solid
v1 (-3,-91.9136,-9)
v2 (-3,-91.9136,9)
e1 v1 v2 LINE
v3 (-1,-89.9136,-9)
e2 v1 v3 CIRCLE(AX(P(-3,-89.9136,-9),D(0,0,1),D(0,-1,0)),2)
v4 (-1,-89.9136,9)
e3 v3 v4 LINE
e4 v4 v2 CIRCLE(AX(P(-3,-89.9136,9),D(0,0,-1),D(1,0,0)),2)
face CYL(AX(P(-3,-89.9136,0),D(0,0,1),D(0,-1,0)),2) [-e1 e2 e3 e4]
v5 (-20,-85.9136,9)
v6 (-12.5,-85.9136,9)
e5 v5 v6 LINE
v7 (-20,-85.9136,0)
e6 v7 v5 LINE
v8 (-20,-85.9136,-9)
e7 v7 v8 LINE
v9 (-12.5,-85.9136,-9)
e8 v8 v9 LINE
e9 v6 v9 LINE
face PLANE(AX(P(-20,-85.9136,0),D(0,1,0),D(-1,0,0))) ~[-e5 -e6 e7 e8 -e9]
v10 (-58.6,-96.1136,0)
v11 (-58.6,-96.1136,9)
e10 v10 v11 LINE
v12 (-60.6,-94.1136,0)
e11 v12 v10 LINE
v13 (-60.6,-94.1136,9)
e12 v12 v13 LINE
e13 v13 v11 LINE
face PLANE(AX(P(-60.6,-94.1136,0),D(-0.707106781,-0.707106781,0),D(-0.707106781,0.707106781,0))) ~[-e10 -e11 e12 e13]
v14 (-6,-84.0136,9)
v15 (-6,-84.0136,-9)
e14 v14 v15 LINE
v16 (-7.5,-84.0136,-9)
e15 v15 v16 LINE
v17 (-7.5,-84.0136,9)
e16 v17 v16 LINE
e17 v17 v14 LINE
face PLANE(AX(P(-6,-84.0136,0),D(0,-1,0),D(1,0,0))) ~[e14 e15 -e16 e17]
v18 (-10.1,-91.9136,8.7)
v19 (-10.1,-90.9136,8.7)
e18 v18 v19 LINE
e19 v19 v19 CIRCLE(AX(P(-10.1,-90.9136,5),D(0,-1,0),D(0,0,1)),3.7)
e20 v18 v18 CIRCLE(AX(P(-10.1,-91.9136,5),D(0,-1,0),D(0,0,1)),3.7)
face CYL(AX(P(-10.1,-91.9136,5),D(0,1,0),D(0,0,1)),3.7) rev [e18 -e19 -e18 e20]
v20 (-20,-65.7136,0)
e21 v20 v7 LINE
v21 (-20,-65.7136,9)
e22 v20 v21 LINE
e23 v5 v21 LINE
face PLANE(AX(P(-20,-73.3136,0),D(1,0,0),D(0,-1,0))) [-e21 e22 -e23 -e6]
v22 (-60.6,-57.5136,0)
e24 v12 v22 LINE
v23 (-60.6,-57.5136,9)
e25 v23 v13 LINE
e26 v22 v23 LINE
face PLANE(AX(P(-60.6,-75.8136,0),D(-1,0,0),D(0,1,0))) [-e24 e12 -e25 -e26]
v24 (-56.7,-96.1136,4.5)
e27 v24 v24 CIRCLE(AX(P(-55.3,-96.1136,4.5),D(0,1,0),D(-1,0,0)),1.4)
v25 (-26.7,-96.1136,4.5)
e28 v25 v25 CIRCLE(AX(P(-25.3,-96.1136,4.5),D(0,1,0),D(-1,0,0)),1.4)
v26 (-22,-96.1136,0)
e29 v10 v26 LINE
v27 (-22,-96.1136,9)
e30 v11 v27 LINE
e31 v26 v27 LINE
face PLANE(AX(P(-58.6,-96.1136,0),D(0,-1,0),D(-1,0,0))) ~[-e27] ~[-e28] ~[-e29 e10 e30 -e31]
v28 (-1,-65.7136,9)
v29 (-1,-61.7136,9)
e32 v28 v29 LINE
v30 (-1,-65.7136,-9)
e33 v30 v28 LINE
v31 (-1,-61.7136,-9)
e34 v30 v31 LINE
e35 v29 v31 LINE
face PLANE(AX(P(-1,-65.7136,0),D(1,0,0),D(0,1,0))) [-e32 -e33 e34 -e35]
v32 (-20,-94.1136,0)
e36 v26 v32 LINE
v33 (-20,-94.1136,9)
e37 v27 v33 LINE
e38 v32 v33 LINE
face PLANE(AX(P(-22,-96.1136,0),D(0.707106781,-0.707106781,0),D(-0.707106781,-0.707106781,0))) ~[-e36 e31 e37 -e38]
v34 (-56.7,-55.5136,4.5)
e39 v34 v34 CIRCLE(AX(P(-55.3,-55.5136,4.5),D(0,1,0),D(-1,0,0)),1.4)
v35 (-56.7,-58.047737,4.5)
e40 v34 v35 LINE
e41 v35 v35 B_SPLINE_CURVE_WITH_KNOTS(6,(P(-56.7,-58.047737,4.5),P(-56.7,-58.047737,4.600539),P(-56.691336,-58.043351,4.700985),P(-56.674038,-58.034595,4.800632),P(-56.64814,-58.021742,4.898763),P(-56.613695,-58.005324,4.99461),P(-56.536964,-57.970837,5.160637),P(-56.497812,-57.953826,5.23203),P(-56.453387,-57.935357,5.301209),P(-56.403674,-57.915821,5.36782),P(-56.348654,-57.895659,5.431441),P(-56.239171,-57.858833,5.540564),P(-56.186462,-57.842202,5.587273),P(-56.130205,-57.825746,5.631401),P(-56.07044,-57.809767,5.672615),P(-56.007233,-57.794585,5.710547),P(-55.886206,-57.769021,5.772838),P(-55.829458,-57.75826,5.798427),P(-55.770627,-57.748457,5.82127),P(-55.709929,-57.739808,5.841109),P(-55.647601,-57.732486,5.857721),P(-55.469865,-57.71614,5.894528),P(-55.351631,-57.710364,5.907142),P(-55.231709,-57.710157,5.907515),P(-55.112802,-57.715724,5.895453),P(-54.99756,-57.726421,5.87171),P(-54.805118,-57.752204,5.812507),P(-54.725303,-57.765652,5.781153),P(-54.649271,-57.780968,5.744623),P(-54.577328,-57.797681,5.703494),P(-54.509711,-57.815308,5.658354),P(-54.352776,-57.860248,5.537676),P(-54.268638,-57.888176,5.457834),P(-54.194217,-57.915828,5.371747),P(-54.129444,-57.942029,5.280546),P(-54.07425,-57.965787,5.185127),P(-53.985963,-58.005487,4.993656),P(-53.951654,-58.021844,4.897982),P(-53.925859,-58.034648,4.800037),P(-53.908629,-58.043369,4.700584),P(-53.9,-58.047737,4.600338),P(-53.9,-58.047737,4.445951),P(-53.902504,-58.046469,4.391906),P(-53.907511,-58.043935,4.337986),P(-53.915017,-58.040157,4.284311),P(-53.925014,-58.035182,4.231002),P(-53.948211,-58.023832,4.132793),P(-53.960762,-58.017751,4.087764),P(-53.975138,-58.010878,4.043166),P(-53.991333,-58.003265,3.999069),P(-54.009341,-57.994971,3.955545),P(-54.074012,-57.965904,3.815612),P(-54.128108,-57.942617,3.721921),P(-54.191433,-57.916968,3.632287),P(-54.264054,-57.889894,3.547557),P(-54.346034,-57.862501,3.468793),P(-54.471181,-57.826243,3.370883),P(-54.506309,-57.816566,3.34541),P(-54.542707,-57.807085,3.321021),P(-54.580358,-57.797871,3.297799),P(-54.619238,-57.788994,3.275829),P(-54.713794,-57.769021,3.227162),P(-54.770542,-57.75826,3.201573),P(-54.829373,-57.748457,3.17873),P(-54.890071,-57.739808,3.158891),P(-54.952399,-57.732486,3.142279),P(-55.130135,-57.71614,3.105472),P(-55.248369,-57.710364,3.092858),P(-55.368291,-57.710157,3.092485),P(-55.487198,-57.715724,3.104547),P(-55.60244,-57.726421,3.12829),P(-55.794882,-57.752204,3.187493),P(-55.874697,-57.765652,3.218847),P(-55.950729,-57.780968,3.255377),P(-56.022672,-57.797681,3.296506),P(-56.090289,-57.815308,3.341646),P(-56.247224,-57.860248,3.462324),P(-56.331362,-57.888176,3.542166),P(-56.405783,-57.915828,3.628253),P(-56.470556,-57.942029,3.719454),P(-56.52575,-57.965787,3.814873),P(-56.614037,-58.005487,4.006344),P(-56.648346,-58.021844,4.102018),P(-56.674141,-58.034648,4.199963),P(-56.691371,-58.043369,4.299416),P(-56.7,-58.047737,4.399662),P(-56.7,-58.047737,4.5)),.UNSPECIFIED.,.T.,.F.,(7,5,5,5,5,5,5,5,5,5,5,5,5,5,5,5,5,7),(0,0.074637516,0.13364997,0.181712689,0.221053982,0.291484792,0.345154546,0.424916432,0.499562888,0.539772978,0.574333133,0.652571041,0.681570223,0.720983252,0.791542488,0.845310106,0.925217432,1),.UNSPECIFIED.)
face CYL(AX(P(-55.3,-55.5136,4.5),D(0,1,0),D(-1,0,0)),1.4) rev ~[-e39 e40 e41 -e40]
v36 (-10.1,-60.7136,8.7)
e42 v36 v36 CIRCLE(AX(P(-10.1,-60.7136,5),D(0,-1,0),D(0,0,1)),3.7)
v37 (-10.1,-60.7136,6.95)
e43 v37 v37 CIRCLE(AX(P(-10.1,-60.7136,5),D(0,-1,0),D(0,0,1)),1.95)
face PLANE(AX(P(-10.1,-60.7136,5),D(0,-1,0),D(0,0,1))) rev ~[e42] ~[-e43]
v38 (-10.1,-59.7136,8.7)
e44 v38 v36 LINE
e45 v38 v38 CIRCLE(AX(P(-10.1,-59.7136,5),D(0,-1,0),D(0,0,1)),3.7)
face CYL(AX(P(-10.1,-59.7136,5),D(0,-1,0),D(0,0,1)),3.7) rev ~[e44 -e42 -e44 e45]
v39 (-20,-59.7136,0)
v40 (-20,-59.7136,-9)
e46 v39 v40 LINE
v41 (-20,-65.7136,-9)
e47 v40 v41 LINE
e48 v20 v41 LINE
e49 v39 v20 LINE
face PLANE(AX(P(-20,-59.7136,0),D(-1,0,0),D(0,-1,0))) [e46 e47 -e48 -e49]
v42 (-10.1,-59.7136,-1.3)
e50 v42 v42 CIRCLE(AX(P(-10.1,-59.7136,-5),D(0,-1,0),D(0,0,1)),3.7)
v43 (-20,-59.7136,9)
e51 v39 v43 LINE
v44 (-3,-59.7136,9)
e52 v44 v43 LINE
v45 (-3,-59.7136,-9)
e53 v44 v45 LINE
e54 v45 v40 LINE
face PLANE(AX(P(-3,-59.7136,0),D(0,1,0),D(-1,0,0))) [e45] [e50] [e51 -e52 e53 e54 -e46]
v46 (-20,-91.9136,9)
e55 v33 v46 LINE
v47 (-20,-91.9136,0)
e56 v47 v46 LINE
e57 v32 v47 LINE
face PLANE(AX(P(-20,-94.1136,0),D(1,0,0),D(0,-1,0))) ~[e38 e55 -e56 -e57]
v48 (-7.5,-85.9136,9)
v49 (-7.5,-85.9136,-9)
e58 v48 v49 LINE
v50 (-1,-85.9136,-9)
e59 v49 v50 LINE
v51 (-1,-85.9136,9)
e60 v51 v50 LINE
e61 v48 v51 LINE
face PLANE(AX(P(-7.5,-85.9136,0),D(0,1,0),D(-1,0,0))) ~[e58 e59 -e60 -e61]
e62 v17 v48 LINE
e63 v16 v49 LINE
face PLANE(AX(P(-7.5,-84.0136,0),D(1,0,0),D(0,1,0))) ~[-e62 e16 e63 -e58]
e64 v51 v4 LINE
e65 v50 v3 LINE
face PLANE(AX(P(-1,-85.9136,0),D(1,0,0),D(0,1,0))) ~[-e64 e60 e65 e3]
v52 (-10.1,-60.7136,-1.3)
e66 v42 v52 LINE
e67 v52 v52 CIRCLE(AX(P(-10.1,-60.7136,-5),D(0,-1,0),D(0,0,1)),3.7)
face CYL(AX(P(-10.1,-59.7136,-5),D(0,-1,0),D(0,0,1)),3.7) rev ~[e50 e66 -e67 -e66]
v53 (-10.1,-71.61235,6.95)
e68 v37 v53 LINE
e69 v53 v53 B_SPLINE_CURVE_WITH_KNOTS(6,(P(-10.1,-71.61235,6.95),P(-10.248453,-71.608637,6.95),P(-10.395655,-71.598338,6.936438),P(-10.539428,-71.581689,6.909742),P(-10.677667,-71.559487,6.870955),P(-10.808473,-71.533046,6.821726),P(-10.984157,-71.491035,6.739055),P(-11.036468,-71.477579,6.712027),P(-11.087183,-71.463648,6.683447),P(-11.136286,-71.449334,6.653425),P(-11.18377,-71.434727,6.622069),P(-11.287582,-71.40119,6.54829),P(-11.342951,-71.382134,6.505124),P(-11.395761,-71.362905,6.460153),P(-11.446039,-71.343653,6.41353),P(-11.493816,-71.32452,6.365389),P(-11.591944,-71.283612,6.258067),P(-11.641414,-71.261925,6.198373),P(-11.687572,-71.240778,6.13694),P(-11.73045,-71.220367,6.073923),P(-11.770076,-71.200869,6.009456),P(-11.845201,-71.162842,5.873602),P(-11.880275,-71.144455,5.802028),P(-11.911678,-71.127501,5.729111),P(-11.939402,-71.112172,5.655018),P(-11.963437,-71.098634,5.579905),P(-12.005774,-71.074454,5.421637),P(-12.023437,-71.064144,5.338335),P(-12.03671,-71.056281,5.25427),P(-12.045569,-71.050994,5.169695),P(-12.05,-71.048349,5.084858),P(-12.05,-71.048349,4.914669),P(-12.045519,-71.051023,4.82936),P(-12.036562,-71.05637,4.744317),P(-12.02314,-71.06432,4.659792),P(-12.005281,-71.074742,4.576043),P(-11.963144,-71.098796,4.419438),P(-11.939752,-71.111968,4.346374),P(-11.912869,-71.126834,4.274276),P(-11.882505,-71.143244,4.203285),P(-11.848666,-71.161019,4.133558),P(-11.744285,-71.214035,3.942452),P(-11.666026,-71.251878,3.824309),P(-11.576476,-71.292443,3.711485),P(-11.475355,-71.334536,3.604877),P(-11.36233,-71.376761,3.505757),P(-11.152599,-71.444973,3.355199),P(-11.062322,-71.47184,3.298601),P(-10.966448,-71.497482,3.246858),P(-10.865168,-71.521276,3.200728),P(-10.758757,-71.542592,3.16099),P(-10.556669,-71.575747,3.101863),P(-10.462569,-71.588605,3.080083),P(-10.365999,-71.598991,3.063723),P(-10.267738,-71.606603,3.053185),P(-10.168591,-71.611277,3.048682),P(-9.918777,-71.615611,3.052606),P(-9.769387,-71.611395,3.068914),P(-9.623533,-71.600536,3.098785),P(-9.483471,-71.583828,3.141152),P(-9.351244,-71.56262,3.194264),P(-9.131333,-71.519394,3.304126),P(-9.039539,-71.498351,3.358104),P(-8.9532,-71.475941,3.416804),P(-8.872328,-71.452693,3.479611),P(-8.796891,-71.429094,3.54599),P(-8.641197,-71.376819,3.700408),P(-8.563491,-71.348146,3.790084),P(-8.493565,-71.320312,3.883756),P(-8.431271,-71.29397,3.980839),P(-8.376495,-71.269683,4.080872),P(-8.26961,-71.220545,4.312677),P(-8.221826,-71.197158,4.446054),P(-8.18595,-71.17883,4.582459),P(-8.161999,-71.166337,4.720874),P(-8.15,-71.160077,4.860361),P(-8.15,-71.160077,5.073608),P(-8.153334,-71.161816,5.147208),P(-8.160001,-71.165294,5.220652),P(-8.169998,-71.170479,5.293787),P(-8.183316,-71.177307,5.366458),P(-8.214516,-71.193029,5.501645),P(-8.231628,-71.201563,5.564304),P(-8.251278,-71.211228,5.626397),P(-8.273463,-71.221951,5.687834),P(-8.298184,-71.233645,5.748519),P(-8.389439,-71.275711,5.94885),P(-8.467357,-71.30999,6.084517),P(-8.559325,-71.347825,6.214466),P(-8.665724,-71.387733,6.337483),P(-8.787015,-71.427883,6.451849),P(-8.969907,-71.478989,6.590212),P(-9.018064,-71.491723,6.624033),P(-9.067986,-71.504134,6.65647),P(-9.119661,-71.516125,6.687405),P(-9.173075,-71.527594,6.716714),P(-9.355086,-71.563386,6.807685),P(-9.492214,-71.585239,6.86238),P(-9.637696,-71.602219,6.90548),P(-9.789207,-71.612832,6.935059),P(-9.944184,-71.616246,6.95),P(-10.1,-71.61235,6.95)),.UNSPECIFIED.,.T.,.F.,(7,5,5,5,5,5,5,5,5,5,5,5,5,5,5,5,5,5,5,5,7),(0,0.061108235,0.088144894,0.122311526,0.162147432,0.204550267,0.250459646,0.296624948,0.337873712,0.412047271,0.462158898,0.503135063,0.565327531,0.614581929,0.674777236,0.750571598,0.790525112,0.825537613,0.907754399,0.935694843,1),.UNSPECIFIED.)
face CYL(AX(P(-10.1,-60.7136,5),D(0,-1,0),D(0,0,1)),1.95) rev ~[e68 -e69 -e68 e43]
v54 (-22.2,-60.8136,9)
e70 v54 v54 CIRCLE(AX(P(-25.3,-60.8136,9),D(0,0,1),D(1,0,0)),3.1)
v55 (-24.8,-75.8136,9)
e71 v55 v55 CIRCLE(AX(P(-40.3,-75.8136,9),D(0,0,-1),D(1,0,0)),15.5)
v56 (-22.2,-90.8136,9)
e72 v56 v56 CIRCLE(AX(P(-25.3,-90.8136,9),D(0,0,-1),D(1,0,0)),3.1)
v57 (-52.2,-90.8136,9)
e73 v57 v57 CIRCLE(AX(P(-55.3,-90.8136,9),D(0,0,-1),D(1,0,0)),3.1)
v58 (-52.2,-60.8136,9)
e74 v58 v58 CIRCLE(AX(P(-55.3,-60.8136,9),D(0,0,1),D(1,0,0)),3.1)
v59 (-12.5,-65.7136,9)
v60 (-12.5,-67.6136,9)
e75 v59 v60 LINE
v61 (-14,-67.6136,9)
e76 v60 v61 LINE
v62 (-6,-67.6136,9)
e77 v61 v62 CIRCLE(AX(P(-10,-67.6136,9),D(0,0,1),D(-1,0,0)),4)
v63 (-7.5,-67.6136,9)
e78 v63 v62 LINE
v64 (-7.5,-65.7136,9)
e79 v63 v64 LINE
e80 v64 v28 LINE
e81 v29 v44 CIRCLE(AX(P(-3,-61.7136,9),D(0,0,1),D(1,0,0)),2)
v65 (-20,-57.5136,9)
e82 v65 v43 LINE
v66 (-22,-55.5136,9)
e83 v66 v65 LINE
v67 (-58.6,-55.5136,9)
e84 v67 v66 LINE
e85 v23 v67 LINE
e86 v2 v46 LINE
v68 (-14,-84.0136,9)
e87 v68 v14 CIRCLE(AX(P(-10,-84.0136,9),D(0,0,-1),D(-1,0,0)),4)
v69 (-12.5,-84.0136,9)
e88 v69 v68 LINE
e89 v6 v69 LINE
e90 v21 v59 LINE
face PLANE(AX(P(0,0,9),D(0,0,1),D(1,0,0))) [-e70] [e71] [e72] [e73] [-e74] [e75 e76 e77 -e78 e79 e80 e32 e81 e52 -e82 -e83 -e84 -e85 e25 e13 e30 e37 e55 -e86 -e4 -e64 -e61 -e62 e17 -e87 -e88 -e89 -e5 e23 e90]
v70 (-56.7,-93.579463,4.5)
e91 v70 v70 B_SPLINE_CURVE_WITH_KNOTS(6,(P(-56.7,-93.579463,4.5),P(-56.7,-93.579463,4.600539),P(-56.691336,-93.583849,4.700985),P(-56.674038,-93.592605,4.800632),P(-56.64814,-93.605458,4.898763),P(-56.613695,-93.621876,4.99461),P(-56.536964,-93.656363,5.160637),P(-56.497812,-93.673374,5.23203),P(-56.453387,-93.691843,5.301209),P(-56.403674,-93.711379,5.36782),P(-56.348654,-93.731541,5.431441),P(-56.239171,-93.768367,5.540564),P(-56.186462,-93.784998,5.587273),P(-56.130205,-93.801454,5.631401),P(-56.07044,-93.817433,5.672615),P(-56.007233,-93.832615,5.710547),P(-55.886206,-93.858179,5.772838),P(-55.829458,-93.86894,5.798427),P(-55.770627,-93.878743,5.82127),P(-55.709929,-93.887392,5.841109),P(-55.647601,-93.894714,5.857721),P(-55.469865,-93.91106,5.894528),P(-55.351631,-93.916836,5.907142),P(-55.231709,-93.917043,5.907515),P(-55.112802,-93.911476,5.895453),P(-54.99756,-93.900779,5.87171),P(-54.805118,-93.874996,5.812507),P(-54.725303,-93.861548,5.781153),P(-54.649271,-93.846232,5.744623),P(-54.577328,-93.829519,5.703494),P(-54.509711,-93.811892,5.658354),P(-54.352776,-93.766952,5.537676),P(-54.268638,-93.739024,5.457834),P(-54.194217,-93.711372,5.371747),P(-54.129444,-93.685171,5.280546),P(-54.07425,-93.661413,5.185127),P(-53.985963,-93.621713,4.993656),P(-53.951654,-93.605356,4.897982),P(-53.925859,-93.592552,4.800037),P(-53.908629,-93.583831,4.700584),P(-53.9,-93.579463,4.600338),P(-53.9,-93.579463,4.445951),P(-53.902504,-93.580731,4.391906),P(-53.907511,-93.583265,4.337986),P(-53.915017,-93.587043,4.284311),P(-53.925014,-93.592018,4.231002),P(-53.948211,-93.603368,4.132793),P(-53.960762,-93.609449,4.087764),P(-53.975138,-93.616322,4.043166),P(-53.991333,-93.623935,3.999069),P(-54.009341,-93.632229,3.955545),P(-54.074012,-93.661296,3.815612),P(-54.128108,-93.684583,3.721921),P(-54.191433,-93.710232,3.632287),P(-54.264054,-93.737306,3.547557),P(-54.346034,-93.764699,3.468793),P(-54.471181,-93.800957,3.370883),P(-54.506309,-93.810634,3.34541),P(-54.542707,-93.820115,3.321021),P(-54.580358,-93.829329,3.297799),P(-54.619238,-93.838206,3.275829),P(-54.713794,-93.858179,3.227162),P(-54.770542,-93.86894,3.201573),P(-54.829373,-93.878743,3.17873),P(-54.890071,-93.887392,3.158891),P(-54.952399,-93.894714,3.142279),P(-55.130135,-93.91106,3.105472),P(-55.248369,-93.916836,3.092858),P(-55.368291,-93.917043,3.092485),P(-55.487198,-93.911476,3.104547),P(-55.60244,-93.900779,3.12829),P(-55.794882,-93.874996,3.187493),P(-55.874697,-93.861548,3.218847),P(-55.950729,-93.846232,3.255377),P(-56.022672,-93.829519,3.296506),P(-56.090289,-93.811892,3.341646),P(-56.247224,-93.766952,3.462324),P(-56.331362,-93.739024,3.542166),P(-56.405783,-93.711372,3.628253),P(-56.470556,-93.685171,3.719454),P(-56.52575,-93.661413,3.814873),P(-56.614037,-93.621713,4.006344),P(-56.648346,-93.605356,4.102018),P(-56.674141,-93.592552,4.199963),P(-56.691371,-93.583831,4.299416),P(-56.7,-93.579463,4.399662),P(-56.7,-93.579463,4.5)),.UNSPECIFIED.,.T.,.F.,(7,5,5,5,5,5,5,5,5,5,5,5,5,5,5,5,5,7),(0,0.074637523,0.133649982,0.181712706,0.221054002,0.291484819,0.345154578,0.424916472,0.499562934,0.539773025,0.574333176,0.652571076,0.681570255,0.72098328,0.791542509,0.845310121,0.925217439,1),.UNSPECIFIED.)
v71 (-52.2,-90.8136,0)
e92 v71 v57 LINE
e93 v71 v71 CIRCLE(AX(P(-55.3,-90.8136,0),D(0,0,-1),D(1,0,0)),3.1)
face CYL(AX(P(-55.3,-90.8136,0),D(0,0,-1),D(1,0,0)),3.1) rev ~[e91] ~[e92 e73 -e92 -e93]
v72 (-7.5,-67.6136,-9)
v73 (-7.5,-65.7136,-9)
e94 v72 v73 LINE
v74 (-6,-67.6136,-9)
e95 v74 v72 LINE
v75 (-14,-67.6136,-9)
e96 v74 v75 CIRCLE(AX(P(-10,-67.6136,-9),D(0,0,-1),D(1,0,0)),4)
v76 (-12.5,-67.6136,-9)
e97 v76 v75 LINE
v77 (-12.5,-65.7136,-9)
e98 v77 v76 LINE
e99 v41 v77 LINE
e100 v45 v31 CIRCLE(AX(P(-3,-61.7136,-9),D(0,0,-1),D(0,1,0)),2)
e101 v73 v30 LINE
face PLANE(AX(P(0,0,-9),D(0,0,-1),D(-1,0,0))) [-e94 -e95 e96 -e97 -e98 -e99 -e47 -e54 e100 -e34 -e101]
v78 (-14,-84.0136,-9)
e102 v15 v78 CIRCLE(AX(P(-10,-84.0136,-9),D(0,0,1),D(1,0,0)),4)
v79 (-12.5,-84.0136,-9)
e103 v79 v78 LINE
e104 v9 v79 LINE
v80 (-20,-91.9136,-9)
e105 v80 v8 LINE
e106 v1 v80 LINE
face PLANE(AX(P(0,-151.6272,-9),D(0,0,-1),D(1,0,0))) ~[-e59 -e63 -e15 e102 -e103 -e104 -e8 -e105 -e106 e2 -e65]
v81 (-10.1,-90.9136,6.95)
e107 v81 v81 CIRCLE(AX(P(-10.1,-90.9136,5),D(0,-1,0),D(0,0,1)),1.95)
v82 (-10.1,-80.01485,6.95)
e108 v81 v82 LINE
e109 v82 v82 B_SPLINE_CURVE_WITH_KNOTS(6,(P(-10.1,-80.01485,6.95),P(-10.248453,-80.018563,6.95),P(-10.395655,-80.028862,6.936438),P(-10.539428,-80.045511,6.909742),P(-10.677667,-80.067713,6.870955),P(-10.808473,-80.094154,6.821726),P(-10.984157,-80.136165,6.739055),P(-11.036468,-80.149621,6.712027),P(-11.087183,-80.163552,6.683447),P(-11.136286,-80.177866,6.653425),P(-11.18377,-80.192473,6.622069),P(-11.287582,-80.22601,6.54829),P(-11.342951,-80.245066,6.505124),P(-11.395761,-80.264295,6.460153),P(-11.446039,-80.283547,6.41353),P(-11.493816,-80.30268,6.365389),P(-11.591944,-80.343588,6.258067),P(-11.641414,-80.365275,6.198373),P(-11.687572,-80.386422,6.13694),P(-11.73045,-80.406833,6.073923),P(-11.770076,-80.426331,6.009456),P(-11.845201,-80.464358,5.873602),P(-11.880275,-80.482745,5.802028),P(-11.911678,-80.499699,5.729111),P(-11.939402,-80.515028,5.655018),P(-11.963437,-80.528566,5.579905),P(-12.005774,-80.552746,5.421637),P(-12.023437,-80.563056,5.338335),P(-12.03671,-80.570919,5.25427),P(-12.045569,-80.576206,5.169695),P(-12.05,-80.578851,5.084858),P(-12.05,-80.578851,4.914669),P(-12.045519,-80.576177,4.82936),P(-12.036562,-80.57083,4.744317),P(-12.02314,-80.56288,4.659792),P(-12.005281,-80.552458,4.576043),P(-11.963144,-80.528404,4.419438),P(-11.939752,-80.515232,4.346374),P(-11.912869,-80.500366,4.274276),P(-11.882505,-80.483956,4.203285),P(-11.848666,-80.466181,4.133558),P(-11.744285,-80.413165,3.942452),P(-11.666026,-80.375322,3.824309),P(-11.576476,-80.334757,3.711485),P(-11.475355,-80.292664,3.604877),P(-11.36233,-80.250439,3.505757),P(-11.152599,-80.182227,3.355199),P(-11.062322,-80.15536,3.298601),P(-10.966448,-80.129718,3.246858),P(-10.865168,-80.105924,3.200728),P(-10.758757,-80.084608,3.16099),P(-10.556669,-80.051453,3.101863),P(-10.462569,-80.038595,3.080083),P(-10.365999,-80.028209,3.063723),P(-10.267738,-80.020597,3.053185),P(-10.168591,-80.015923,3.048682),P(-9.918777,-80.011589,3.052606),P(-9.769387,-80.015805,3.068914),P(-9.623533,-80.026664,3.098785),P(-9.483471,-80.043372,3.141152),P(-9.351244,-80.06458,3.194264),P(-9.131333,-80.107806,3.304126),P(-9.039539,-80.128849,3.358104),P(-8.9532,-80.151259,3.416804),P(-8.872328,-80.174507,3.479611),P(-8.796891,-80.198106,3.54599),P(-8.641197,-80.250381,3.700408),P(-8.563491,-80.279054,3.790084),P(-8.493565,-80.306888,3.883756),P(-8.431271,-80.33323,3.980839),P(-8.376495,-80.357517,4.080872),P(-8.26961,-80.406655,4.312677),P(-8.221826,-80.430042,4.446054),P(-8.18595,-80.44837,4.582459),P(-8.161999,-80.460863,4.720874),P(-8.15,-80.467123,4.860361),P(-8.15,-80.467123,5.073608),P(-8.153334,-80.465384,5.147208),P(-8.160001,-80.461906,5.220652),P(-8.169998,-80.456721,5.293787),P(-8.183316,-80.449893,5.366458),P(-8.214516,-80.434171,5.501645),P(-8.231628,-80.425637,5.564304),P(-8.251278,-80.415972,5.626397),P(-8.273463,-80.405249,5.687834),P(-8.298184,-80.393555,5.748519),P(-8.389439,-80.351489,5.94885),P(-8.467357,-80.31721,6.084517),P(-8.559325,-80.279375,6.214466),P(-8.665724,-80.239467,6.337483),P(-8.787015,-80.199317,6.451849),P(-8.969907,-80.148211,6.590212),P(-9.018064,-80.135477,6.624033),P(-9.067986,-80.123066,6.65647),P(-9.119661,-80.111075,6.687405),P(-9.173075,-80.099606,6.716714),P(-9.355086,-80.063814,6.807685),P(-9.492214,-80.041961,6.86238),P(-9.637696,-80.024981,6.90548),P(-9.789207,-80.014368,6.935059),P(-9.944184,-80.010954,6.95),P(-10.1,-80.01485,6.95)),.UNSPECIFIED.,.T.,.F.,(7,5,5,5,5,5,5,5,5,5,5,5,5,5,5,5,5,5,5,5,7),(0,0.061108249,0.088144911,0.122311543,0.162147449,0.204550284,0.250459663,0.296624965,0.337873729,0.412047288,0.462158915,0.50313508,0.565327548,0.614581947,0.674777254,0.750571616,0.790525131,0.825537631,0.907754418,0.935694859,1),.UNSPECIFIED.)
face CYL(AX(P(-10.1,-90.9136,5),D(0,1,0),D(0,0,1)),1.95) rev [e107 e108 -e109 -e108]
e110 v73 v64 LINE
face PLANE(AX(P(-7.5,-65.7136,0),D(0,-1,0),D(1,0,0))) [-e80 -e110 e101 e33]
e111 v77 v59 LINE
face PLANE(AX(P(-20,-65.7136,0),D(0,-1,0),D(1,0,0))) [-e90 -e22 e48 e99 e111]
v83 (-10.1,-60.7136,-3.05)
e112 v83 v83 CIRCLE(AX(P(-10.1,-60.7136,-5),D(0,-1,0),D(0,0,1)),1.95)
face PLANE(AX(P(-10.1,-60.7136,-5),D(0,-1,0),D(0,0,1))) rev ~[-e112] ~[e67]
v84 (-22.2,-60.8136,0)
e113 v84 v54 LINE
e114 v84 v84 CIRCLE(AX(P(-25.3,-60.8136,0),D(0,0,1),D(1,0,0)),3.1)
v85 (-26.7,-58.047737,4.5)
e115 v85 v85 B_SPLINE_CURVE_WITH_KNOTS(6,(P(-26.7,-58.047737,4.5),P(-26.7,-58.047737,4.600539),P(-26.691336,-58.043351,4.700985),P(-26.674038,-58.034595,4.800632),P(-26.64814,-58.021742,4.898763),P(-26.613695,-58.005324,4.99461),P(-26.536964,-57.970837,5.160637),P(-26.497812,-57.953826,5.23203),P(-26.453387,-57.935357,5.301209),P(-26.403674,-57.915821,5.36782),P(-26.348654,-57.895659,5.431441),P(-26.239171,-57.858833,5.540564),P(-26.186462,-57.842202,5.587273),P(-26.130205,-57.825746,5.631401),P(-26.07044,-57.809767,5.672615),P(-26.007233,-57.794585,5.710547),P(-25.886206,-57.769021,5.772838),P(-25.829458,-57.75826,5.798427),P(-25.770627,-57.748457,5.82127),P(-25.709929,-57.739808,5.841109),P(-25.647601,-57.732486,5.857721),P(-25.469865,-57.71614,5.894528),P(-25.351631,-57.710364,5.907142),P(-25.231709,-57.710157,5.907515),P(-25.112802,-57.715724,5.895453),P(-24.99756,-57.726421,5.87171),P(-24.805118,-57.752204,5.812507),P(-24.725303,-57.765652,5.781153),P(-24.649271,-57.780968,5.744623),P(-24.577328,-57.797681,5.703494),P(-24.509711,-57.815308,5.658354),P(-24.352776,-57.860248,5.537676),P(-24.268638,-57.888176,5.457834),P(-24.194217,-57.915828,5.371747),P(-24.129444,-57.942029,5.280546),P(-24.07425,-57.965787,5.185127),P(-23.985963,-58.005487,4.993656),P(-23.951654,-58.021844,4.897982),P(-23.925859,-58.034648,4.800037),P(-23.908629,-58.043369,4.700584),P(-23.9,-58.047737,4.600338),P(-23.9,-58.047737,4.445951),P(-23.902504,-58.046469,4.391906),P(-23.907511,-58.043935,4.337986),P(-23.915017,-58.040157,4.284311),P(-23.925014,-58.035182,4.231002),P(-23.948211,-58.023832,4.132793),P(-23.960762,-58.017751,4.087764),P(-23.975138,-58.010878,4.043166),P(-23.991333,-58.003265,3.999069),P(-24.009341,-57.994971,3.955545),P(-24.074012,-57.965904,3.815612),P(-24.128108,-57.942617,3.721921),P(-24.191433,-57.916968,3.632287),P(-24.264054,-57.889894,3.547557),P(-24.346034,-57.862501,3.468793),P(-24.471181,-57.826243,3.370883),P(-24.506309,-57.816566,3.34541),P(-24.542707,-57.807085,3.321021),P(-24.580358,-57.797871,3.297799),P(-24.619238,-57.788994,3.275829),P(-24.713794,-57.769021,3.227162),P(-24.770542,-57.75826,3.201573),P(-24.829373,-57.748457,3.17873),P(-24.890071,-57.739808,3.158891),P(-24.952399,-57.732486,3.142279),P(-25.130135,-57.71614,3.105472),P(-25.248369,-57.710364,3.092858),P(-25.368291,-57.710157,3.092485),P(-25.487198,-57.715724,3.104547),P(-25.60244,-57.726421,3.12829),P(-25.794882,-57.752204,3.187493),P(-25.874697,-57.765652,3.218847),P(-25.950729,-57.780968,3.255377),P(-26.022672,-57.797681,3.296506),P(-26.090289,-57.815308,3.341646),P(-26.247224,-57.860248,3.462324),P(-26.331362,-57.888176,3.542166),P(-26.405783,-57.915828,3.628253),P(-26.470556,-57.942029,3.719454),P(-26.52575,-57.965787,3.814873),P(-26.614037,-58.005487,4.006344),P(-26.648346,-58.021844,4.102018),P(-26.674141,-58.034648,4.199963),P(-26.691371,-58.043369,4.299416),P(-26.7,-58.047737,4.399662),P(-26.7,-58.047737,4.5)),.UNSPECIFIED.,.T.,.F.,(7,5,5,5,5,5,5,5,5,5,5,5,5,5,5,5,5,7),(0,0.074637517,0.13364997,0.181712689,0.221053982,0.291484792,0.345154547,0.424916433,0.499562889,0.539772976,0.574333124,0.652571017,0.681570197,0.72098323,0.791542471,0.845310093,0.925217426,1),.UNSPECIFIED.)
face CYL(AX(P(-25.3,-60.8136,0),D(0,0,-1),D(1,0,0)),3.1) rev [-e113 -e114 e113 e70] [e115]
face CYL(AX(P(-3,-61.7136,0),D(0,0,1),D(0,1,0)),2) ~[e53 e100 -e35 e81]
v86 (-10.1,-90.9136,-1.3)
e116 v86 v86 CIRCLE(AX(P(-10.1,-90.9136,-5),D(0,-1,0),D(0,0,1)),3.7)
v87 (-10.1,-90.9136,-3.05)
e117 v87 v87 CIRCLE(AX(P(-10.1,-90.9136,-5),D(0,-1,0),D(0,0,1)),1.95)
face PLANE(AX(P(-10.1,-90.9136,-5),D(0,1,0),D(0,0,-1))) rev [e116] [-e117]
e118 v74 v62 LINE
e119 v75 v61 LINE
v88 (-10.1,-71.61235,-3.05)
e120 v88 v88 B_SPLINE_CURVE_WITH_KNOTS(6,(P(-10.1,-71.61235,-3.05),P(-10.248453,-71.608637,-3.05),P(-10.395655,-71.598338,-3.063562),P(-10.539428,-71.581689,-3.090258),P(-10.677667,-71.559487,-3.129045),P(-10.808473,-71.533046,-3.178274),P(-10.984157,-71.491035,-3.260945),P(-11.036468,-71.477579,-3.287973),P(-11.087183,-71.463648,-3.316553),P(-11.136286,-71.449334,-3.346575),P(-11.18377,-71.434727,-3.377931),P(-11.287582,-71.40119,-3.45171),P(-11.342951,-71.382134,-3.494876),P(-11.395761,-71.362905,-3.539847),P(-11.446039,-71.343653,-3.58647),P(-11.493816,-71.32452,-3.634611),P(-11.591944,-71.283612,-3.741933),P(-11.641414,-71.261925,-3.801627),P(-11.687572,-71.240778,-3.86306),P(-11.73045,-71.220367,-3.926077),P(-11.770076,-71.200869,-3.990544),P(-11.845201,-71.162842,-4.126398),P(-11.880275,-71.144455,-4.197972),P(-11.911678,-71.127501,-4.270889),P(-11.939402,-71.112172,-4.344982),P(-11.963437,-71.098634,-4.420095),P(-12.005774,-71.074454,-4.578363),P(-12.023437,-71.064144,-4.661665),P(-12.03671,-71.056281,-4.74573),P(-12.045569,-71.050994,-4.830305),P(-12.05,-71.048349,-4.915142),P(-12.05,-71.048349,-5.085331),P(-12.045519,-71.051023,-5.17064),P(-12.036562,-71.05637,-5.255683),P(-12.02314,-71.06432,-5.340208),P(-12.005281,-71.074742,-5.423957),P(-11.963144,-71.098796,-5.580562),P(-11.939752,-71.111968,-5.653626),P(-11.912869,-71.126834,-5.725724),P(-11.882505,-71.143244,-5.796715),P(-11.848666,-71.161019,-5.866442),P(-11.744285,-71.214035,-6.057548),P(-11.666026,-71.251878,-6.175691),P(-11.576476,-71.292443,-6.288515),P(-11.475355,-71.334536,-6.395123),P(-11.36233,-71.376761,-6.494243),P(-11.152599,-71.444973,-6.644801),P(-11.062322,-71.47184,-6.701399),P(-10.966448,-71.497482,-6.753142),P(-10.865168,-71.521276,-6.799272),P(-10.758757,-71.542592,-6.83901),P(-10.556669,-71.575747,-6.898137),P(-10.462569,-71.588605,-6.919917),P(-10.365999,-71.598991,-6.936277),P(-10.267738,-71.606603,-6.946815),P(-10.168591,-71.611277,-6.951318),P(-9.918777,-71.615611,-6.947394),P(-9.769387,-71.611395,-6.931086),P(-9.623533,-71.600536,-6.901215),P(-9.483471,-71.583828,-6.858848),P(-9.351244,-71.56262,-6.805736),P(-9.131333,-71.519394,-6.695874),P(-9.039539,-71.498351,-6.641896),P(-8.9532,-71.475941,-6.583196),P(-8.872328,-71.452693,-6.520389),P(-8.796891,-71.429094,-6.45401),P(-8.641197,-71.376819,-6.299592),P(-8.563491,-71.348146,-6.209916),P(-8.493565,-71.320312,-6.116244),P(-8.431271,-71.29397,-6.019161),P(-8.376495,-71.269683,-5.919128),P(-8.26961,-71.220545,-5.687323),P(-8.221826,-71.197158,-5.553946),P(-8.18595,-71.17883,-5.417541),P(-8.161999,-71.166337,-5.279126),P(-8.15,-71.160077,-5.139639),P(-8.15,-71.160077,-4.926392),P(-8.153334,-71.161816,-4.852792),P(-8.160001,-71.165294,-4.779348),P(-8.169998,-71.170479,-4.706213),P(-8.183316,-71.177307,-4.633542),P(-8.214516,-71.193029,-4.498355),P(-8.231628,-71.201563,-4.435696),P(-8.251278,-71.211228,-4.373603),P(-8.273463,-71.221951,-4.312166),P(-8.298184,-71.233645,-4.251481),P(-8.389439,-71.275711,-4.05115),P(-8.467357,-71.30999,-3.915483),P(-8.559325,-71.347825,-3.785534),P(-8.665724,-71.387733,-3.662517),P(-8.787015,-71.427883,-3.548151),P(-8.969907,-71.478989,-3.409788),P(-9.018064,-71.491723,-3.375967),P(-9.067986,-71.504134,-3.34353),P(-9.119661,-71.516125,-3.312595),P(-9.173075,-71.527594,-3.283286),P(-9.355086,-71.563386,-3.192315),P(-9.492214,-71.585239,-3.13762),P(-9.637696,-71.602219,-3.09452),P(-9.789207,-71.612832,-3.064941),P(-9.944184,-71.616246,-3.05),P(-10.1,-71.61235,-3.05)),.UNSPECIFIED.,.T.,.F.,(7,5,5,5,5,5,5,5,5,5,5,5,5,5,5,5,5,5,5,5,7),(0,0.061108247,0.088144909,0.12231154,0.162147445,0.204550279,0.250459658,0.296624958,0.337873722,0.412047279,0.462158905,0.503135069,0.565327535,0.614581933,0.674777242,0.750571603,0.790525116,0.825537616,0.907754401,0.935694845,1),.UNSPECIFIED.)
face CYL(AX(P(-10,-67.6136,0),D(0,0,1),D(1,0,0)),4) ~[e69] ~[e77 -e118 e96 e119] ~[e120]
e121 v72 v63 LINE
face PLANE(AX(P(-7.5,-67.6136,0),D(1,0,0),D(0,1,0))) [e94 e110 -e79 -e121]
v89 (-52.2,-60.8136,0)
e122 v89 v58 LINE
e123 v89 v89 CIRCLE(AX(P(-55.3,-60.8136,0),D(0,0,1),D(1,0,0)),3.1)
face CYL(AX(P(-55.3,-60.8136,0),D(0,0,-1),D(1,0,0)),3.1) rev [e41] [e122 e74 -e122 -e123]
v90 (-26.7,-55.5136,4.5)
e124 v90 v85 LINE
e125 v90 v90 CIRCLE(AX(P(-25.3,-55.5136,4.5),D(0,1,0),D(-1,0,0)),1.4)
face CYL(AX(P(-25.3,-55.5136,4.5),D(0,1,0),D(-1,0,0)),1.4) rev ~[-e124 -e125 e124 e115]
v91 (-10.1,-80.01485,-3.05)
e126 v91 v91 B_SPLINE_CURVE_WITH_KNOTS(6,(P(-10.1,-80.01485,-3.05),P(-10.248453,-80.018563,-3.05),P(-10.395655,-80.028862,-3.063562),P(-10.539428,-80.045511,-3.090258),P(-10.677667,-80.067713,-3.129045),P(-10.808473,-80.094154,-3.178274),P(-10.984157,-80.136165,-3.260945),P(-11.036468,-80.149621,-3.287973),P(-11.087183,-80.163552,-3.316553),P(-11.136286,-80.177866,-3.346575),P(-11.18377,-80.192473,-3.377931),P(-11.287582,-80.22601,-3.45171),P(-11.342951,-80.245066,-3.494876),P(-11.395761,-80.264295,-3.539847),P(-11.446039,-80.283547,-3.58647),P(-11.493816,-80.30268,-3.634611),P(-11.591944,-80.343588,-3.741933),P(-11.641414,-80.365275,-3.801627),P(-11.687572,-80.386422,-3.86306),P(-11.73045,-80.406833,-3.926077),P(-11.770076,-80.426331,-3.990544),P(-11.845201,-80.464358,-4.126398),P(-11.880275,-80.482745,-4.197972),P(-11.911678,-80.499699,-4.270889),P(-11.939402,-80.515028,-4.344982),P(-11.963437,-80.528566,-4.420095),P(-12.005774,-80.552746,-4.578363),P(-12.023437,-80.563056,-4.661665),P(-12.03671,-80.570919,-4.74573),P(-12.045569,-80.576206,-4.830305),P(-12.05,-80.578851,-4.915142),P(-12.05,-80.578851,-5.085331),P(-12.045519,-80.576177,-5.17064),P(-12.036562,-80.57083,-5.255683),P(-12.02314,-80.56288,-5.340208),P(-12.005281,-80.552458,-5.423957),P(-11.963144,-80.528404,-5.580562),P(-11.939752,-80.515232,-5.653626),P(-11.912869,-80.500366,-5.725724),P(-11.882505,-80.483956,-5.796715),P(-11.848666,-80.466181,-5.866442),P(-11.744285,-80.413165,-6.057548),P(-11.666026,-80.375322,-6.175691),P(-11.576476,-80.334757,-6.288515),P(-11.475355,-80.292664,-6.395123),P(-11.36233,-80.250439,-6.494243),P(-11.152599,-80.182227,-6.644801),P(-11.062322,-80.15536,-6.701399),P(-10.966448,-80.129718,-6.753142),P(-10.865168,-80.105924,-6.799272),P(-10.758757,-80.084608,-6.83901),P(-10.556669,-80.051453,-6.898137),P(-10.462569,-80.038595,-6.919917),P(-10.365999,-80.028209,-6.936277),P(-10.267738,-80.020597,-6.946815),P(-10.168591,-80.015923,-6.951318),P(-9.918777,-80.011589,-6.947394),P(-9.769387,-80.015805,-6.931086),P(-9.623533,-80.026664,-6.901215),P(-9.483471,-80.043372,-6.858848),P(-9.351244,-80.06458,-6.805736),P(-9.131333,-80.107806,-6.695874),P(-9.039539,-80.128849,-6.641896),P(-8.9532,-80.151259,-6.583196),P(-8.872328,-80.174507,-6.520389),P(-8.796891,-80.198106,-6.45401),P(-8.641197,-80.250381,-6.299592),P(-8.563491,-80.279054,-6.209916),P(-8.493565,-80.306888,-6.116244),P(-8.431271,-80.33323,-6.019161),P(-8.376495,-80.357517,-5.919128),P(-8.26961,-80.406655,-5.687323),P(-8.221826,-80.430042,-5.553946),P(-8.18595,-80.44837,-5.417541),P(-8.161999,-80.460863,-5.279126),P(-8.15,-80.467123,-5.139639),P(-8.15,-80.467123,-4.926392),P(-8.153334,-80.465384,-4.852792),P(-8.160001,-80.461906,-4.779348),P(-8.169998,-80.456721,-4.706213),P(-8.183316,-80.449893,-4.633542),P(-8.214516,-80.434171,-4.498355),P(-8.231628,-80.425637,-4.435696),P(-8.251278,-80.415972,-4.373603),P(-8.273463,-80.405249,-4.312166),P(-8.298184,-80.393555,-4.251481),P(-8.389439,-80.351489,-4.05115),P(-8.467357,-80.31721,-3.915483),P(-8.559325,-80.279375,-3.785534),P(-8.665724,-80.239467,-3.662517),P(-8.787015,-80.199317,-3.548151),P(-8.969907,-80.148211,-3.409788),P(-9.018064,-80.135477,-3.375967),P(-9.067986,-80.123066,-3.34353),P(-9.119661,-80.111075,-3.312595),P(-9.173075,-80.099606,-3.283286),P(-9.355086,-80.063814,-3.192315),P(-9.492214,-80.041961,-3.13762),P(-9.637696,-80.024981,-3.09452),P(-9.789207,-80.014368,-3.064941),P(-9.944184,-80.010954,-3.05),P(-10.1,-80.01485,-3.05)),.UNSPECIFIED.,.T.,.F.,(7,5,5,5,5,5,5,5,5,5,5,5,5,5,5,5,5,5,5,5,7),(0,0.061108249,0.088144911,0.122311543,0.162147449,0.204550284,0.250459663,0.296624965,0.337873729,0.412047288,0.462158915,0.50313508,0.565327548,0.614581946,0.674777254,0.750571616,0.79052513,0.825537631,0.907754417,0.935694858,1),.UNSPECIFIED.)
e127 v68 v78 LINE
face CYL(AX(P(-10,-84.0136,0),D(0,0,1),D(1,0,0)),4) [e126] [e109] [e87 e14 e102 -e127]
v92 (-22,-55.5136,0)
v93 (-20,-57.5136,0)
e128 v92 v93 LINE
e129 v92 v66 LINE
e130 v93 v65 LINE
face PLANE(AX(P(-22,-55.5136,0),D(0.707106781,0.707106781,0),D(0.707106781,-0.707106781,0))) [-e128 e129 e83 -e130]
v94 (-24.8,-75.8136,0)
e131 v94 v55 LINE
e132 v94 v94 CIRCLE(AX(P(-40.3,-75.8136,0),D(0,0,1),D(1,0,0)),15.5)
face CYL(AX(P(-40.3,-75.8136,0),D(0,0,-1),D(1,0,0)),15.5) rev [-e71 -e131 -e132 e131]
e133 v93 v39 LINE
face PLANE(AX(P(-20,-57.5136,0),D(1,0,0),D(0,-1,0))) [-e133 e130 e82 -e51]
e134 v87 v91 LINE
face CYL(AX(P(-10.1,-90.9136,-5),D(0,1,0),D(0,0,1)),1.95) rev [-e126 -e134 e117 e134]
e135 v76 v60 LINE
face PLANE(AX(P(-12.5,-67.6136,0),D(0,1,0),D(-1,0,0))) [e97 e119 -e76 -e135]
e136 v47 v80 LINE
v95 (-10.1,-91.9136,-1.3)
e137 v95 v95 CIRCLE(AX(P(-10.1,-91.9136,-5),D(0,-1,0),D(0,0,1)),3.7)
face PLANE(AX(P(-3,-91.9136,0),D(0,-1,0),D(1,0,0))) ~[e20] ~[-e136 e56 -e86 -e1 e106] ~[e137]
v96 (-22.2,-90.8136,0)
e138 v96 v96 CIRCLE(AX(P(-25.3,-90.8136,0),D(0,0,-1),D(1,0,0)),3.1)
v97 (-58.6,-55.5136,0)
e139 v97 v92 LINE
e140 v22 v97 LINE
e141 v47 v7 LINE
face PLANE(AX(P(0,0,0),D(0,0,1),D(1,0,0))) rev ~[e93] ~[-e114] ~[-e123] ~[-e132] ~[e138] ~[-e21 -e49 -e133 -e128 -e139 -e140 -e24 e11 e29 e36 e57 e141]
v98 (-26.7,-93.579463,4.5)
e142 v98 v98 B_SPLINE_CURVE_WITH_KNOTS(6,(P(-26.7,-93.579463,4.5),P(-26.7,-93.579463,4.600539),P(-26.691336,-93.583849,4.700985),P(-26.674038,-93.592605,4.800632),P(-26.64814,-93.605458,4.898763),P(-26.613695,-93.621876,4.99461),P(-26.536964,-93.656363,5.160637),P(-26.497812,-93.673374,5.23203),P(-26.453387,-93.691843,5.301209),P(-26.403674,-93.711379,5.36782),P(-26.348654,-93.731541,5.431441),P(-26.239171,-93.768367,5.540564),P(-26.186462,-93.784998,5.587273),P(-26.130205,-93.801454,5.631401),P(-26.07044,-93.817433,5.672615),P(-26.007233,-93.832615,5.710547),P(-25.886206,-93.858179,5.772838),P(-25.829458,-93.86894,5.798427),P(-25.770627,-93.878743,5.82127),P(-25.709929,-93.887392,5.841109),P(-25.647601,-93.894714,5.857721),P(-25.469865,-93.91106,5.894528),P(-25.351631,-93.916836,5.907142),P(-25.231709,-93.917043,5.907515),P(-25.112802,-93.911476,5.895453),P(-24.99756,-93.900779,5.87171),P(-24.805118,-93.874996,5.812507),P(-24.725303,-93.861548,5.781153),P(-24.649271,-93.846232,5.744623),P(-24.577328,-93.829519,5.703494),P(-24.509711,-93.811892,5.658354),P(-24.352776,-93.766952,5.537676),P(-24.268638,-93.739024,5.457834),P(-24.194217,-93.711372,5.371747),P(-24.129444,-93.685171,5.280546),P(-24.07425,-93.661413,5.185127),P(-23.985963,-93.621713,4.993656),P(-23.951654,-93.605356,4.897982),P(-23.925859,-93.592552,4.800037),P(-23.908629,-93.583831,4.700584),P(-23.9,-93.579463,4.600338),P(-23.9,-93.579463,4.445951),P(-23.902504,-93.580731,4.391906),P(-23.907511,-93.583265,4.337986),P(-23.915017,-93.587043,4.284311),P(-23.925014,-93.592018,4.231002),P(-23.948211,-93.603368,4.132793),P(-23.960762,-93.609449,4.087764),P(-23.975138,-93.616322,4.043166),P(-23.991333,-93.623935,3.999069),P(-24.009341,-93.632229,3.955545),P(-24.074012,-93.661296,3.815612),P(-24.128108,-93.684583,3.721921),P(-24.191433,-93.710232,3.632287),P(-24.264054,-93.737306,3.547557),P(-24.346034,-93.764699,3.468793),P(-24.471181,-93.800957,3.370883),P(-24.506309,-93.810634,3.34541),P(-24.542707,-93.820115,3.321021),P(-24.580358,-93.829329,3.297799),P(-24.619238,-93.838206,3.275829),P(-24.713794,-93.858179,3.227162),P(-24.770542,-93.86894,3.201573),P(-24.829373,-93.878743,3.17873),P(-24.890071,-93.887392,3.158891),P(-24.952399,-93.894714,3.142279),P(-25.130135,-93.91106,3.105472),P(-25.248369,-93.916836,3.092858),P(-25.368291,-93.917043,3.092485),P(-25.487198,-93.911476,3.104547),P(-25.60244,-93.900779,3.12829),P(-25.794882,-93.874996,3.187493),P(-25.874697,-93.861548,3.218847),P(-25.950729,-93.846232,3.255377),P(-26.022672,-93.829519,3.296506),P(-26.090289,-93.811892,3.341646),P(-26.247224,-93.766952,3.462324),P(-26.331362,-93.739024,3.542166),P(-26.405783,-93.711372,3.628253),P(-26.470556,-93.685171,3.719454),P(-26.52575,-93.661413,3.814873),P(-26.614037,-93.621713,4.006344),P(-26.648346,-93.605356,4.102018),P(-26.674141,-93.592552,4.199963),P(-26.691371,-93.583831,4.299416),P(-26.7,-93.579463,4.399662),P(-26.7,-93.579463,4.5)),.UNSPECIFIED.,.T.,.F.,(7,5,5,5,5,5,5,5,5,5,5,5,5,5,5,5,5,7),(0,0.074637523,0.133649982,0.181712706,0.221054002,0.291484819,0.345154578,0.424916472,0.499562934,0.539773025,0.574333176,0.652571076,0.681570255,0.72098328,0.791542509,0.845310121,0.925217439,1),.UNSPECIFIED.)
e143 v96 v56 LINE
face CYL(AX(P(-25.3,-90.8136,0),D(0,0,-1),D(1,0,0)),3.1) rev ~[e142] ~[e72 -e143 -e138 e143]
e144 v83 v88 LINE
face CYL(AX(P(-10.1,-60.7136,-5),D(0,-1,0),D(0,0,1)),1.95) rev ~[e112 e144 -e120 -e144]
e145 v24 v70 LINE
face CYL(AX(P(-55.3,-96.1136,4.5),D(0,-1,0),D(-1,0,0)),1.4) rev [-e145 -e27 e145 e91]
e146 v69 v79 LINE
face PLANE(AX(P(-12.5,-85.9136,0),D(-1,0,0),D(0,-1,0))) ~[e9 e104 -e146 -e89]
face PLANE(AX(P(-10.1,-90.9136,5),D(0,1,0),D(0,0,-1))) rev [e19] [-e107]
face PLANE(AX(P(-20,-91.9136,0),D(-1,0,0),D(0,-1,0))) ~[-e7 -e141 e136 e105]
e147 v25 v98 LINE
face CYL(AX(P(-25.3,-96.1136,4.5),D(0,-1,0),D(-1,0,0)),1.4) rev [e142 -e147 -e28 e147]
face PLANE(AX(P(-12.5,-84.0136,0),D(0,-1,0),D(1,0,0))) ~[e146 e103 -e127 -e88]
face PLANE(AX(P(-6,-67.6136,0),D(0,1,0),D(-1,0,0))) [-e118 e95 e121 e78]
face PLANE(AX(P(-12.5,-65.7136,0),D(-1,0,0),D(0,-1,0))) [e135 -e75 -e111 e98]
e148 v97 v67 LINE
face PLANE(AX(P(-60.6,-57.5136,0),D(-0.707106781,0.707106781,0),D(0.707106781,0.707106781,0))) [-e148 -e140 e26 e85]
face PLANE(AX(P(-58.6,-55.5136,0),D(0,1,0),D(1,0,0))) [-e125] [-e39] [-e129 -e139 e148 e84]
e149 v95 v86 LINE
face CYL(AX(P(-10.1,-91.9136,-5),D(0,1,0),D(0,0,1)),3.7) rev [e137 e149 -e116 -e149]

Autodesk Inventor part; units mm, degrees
ref_plane "YZ Plane" through (0, 0, 0) normal (1, 0, 0) x (0, 1, 0)
ref_plane "XZ Plane" through (0, 0, 0) normal (0, 1, 0) x (-1, 0, 0)
ref_plane "XY Plane" through (0, 0, 0) normal (0, 0, 1) x (1, 0, 0)
sketch "Sketch1" plane through (0, 0, 0) normal (0, 0, 1) x (1, 0, 0)
  line L0 (-20, -85.8136) -> (-20, -78.3136) projected
  line L1 (-20, -78.3136) -> (-18.5, -78.3136) projected
  line L2 (-18.5, -78.3136) -> (-18.5, -82.5636) projected
  line L3 (-18.5, -82.5636) -> (-17.8462, -82.5636) projected
  line L4 (-17.8462, -82.5636) -> (-14, -78.7175) projected
  line L5 (-14, -78.7175) -> (-14, -72.9098) projected
  line L6 (-14, -72.9098) -> (-17.8462, -69.0636) projected
  line L7 (-17.8462, -69.0636) -> (-18.5, -69.0636) projected
  line L8 (-18.5, -69.0636) -> (-18.5, -73.3136) projected
  line L9 (-18.5, -73.3136) -> (-20, -73.3136) projected
  line L10 (-20, -73.3136) -> (-20, -65.8136) projected
  line L11 (-20, -65.8136) -> (-12.5, -65.8136) projected
  line L12 (-12.5, -65.8136) -> (-12.5, -67.3136) projected
  line L13 (-12.5, -67.3136) -> (-16.75, -67.3136) projected
  line L14 (-16.75, -67.3136) -> (-16.75, -68.0385) projected
  line L15 (-16.75, -68.0385) -> (-12.9748, -71.8136) projected
  line L16 (-12.9748, -71.8136) -> (-7.0252, -71.8136) projected
  line L17 (-7.0252, -71.8136) -> (-3.25, -68.0385) projected
  line L18 (-3.25, -68.0385) -> (-3.25, -67.3136) projected
  line L19 (-3.25, -67.3136) -> (-7.5, -67.3136) projected
  line L20 (-7.5, -67.3136) -> (-7.5, -65.8136) projected
  line L21 (-7.5, -65.8136) -> (0, -65.8136) projected
  line L22 (0, -65.8136) -> (0, -73.3136) projected
  line L23 (0, -73.3136) -> (-1.5, -73.3136) projected
  line L24 (-1.5, -73.3136) -> (-1.5, -69.0636) projected
  line L25 (-1.5, -69.0636) -> (-2.1538, -69.0636) projected
  line L26 (-2.1538, -69.0636) -> (-6, -72.9098) projected
  line L27 (-6, -72.9098) -> (-6, -78.7175) projected
  line L28 (-6, -78.7175) -> (-2.1538, -82.5636) projected
  line L29 (-2.1538, -82.5636) -> (-1.5, -82.5636) projected
  line L30 (-1.5, -82.5636) -> (-1.5, -78.3136) projected
  line L31 (-1.5, -78.3136) -> (0, -78.3136) projected
  line L32 (0, -78.3136) -> (0, -85.8136) projected
  line L33 (0, -85.8136) -> (-7.5, -85.8136) projected
  line L34 (-7.5, -85.8136) -> (-7.5, -84.3136) projected
  line L35 (-7.5, -84.3136) -> (-3.25, -84.3136) projected
  line L36 (-3.25, -84.3136) -> (-3.25, -83.5888) projected
  line L37 (-3.25, -83.5888) -> (-7.0252, -79.8136) projected
  line L38 (-7.0252, -79.8136) -> (-12.9748, -79.8136) projected
  line L39 (-12.9748, -79.8136) -> (-16.75, -83.5888) projected
  line L40 (-16.75, -83.5888) -> (-16.75, -84.3136) projected
  line L41 (-16.75, -84.3136) -> (-12.5, -84.3136) projected
  line L42 (-12.5, -84.3136) -> (-12.5, -85.8136) projected
  line L43 (-12.5, -85.8136) -> (-20, -85.8136) projected
  circle A0 centre (-10, -75.8136) radius 2.15 projected
  line L44 (-12.5, -65.7136) -> (-7.5, -65.7136)
  line L45 (-7.5, -65.7136) -> (-7.5, -67.6136)
  line L46 (-7.5, -67.6136) -> (-12.5, -67.6136)
  line L47 (-12.5, -67.6136) -> (-12.5, -65.7136)
  line L48 (-12.5, -67.6136) -> (-14, -67.6136)
  line L49 (-7.5, -67.6136) -> (-6, -67.6136)
  arc A1 (-14, -67.6136) -> (-6, -67.6136) centre (-10, -67.6136) ccw
  line L50 (-20, -65.8136) -> (-20, -59.8136)
  line L51 (-14, -75.8136) -> (-32.3565, -75.8136)
  line L52 (-20, -75.8136) -> (-60.6, -75.8136)
  line L53 (-60.6, -75.8136) -> (-60.6, -57.5136)
  line L54 (-58.6, -55.5136) -> (-22, -55.5136)
  line L55 (-20, -57.5136) -> (-20, -75.8136)
  line L56 (-22, -55.5136) -> (-20, -57.5136)
  line L57 (-60.6, -57.5136) -> (-58.6, -55.5136)
  arc A2 (-24.8, -75.8136) -> (-55.8, -75.8136) centre (-40.3, -75.8136) ccw
  circle A3 centre (-55.3, -60.8136) radius 3.1
  circle A4 centre (-25.3, -60.8136) radius 3.1
  line L58 (-20, -65.7136) -> (-1, -65.7136)
  line L59 (-1, -65.7136) -> (-1, -61.7136)
  line L60 (-3, -59.7136) -> (-20, -59.7136)
  line L61 (-20, -59.7136) -> (-20, -65.7136)
  arc A5 (-1, -61.7136) -> (-3, -59.7136) centre (-3, -61.7136) ccw
  point P0 (0, 0)
  point P1 (-1, -65.8136)
  point P2 (-1, -59.8136)
  point P3 (-60.6, -55.5136)
  point P4 (-20, -55.5136)
  point P5 (-1, -59.7136)
  point P6 (-20, -65.7136)
  point P7 (-12.5, -65.7136)
  point P8 (-7.5, -65.7136)
  dimension "d3" = 5
  dimension "d4" = 1.9
  dimension "d6" = 0
  dimension "d7" = 1.5
  dimension "d8" = 1.5
  dimension "d9" = 4
  dimension "d10" = 19
  dimension "d11" = 6
  dimension "d15" = 40.6
  dimension "d16" = 20.3
  dimension "d17" = 2
  dimension "d18" = 2
  dimension "d19" = 2
  dimension "d20" = 2
  dimension "d21" = 31
  dimension "d22" = 6.2
  dimension "d23" = 5.3
  dimension "d24" = 5.3
  dimension "d25" = 6.2
  dimension "d26" = 5.3
  dimension "d27" = 5.3
  dimension "d32" = 0.3
  dimension "d33" = 19
  dimension "d34" = 6
  dimension "d35" = 2
  dimension "d58" = 4.2
extrude "Extrusion1" add sketch "Sketch1" along normal blind 9 contours L51 A2 L52 L53 L57 L54 L56 L55 L50 L10 | L47 L44 L45 L20 L46 L12 | L50 L55 L60 A5 L59 L58 L44 | L46 L49 A1 L48
sketch "Sketch4" plane through (0, 0, 0) normal (0, 0, -1) x (-1, 0, 0)
  line L0 (22, -55.5136) -> (58.6, -55.5136) projected
  line L1 (20, -57.5136) -> (22, -55.5136) projected
  line L2 (20, -59.7136) -> (20, -57.5136) projected
  line L3 (3, -59.7136) -> (20, -59.7136) projected
  arc A0 (3, -59.7136) -> (1, -61.7136) centre (3, -61.7136) ccw projected
  line L4 (1, -65.7136) -> (1, -61.7136) projected
  line L5 (7.5, -65.7136) -> (1, -65.7136) projected
  line L6 (7.5, -67.6136) -> (7.5, -65.7136) projected
  line L7 (6, -67.6136) -> (7.5, -67.6136) projected
  arc A1 (6, -67.6136) -> (14, -67.6136) centre (10, -67.6136) ccw projected
  line L8 (12.5, -67.6136) -> (14, -67.6136) projected
  line L9 (12.5, -65.7136) -> (12.5, -67.6136) projected
  line L10 (20, -65.7136) -> (12.5, -65.7136) projected
  line L11 (20, -75.8136) -> (20, -65.7136) projected
  line L12 (24.8, -75.8136) -> (20, -75.8136) projected
  arc A2 (55.8, -75.8136) -> (24.8, -75.8136) centre (40.3, -75.8136) ccw projected
  line L13 (60.6, -75.8136) -> (55.8, -75.8136) projected
  line L14 (60.6, -57.5136) -> (60.6, -75.8136) projected
  line L15 (58.6, -55.5136) -> (60.6, -57.5136) projected
  circle A3 centre (25.3, -60.8136) radius 3.1 projected
  circle A4 centre (55.3, -60.8136) radius 3.1 projected
  line L16 (20, -59.7136) -> (20, -57.5136) projected
  line L17 (20, -75.8136) -> (20, -65.7136) projected
  line L18 (20, -59.7136) -> (20, -65.7136)
  point P0 (0, 0)
extrude "Extrusion3" add sketch "Sketch4" along normal blind 9 contours L18 L10 L9 L8 A1 L7 L6 L5 L4 A0 L3
sketch "Sketch5" plane through (-20, -59.7136, 9) normal (0, 1, 0) x (1, 0, 0)
  line L0 (6, 18) -> (6, 0) projected
  line L1 (14, 18) -> (14, 0) projected
  circle A0 centre (9.9, 4) radius 1.95
  circle A1 centre (9.9, 14) radius 1.95
  line L2 (0, 18) -> (17, 18) projected
  line L3 (17, 0) -> (0, 0) projected
  point P0 (20, 9)
  dimension "d38" = 3.9
  dimension "d39" = 3.9
  dimension "d40" = 3.9
  dimension "d41" = 3.9
  dimension "d42" = 4
  dimension "d43" = 4
hole "Hole1" at (-10.1, -59.7136, 5) at (-10.1, -59.7136, -5) direction (0, -1, 0) diameter 3.9 end through all counterbore diameter 7.4 counterbore depth 1
sketch "Sketch6" plane through (0, -55.5136, 0) normal (0, 1, 0) x (-1, 0, 0)
  line L0 (52.2, 9) -> (58.4, 9) projected
  line L1 (52.2, 0) -> (58.4, 0) projected
  line L2 (22.2, 9) -> (28.4, 9) projected
  line L3 (22.2, 0) -> (28.4, 0) projected
  circle A0 centre (55.3, 4.5) radius 1.4
  circle A1 centre (25.3, 4.5) radius 1.4
  line L4 (52.2, 9) -> (58.4, 9) projected
  line L5 (58.6, 0) -> (58.6, 9)
  line L6 (58.4, 9) -> (58.4, 0)
  line L7 (22, 9) -> (58.6, 9) projected
  point P0 (0, 0)
  dimension "d51" = 2.8
  dimension "d52" = 2.8
  dimension "d53" = 4.5
  dimension "d54" = 4.5
extrude "Extrusion4" cut sketch "Sketch6" against normal blind 4
mirror "Mirror1" about plane through (-60.6, -75.8136, 0) normal (0, -1, 0) of "Extrusion1", "Extrusion3", "Hole1", "Extrusion4"
equation "\"d18\" = d17"
equation "\"d19\" = d17"
equation "\"d20\" = d19"
properties part number "Rain_LensHolder"
